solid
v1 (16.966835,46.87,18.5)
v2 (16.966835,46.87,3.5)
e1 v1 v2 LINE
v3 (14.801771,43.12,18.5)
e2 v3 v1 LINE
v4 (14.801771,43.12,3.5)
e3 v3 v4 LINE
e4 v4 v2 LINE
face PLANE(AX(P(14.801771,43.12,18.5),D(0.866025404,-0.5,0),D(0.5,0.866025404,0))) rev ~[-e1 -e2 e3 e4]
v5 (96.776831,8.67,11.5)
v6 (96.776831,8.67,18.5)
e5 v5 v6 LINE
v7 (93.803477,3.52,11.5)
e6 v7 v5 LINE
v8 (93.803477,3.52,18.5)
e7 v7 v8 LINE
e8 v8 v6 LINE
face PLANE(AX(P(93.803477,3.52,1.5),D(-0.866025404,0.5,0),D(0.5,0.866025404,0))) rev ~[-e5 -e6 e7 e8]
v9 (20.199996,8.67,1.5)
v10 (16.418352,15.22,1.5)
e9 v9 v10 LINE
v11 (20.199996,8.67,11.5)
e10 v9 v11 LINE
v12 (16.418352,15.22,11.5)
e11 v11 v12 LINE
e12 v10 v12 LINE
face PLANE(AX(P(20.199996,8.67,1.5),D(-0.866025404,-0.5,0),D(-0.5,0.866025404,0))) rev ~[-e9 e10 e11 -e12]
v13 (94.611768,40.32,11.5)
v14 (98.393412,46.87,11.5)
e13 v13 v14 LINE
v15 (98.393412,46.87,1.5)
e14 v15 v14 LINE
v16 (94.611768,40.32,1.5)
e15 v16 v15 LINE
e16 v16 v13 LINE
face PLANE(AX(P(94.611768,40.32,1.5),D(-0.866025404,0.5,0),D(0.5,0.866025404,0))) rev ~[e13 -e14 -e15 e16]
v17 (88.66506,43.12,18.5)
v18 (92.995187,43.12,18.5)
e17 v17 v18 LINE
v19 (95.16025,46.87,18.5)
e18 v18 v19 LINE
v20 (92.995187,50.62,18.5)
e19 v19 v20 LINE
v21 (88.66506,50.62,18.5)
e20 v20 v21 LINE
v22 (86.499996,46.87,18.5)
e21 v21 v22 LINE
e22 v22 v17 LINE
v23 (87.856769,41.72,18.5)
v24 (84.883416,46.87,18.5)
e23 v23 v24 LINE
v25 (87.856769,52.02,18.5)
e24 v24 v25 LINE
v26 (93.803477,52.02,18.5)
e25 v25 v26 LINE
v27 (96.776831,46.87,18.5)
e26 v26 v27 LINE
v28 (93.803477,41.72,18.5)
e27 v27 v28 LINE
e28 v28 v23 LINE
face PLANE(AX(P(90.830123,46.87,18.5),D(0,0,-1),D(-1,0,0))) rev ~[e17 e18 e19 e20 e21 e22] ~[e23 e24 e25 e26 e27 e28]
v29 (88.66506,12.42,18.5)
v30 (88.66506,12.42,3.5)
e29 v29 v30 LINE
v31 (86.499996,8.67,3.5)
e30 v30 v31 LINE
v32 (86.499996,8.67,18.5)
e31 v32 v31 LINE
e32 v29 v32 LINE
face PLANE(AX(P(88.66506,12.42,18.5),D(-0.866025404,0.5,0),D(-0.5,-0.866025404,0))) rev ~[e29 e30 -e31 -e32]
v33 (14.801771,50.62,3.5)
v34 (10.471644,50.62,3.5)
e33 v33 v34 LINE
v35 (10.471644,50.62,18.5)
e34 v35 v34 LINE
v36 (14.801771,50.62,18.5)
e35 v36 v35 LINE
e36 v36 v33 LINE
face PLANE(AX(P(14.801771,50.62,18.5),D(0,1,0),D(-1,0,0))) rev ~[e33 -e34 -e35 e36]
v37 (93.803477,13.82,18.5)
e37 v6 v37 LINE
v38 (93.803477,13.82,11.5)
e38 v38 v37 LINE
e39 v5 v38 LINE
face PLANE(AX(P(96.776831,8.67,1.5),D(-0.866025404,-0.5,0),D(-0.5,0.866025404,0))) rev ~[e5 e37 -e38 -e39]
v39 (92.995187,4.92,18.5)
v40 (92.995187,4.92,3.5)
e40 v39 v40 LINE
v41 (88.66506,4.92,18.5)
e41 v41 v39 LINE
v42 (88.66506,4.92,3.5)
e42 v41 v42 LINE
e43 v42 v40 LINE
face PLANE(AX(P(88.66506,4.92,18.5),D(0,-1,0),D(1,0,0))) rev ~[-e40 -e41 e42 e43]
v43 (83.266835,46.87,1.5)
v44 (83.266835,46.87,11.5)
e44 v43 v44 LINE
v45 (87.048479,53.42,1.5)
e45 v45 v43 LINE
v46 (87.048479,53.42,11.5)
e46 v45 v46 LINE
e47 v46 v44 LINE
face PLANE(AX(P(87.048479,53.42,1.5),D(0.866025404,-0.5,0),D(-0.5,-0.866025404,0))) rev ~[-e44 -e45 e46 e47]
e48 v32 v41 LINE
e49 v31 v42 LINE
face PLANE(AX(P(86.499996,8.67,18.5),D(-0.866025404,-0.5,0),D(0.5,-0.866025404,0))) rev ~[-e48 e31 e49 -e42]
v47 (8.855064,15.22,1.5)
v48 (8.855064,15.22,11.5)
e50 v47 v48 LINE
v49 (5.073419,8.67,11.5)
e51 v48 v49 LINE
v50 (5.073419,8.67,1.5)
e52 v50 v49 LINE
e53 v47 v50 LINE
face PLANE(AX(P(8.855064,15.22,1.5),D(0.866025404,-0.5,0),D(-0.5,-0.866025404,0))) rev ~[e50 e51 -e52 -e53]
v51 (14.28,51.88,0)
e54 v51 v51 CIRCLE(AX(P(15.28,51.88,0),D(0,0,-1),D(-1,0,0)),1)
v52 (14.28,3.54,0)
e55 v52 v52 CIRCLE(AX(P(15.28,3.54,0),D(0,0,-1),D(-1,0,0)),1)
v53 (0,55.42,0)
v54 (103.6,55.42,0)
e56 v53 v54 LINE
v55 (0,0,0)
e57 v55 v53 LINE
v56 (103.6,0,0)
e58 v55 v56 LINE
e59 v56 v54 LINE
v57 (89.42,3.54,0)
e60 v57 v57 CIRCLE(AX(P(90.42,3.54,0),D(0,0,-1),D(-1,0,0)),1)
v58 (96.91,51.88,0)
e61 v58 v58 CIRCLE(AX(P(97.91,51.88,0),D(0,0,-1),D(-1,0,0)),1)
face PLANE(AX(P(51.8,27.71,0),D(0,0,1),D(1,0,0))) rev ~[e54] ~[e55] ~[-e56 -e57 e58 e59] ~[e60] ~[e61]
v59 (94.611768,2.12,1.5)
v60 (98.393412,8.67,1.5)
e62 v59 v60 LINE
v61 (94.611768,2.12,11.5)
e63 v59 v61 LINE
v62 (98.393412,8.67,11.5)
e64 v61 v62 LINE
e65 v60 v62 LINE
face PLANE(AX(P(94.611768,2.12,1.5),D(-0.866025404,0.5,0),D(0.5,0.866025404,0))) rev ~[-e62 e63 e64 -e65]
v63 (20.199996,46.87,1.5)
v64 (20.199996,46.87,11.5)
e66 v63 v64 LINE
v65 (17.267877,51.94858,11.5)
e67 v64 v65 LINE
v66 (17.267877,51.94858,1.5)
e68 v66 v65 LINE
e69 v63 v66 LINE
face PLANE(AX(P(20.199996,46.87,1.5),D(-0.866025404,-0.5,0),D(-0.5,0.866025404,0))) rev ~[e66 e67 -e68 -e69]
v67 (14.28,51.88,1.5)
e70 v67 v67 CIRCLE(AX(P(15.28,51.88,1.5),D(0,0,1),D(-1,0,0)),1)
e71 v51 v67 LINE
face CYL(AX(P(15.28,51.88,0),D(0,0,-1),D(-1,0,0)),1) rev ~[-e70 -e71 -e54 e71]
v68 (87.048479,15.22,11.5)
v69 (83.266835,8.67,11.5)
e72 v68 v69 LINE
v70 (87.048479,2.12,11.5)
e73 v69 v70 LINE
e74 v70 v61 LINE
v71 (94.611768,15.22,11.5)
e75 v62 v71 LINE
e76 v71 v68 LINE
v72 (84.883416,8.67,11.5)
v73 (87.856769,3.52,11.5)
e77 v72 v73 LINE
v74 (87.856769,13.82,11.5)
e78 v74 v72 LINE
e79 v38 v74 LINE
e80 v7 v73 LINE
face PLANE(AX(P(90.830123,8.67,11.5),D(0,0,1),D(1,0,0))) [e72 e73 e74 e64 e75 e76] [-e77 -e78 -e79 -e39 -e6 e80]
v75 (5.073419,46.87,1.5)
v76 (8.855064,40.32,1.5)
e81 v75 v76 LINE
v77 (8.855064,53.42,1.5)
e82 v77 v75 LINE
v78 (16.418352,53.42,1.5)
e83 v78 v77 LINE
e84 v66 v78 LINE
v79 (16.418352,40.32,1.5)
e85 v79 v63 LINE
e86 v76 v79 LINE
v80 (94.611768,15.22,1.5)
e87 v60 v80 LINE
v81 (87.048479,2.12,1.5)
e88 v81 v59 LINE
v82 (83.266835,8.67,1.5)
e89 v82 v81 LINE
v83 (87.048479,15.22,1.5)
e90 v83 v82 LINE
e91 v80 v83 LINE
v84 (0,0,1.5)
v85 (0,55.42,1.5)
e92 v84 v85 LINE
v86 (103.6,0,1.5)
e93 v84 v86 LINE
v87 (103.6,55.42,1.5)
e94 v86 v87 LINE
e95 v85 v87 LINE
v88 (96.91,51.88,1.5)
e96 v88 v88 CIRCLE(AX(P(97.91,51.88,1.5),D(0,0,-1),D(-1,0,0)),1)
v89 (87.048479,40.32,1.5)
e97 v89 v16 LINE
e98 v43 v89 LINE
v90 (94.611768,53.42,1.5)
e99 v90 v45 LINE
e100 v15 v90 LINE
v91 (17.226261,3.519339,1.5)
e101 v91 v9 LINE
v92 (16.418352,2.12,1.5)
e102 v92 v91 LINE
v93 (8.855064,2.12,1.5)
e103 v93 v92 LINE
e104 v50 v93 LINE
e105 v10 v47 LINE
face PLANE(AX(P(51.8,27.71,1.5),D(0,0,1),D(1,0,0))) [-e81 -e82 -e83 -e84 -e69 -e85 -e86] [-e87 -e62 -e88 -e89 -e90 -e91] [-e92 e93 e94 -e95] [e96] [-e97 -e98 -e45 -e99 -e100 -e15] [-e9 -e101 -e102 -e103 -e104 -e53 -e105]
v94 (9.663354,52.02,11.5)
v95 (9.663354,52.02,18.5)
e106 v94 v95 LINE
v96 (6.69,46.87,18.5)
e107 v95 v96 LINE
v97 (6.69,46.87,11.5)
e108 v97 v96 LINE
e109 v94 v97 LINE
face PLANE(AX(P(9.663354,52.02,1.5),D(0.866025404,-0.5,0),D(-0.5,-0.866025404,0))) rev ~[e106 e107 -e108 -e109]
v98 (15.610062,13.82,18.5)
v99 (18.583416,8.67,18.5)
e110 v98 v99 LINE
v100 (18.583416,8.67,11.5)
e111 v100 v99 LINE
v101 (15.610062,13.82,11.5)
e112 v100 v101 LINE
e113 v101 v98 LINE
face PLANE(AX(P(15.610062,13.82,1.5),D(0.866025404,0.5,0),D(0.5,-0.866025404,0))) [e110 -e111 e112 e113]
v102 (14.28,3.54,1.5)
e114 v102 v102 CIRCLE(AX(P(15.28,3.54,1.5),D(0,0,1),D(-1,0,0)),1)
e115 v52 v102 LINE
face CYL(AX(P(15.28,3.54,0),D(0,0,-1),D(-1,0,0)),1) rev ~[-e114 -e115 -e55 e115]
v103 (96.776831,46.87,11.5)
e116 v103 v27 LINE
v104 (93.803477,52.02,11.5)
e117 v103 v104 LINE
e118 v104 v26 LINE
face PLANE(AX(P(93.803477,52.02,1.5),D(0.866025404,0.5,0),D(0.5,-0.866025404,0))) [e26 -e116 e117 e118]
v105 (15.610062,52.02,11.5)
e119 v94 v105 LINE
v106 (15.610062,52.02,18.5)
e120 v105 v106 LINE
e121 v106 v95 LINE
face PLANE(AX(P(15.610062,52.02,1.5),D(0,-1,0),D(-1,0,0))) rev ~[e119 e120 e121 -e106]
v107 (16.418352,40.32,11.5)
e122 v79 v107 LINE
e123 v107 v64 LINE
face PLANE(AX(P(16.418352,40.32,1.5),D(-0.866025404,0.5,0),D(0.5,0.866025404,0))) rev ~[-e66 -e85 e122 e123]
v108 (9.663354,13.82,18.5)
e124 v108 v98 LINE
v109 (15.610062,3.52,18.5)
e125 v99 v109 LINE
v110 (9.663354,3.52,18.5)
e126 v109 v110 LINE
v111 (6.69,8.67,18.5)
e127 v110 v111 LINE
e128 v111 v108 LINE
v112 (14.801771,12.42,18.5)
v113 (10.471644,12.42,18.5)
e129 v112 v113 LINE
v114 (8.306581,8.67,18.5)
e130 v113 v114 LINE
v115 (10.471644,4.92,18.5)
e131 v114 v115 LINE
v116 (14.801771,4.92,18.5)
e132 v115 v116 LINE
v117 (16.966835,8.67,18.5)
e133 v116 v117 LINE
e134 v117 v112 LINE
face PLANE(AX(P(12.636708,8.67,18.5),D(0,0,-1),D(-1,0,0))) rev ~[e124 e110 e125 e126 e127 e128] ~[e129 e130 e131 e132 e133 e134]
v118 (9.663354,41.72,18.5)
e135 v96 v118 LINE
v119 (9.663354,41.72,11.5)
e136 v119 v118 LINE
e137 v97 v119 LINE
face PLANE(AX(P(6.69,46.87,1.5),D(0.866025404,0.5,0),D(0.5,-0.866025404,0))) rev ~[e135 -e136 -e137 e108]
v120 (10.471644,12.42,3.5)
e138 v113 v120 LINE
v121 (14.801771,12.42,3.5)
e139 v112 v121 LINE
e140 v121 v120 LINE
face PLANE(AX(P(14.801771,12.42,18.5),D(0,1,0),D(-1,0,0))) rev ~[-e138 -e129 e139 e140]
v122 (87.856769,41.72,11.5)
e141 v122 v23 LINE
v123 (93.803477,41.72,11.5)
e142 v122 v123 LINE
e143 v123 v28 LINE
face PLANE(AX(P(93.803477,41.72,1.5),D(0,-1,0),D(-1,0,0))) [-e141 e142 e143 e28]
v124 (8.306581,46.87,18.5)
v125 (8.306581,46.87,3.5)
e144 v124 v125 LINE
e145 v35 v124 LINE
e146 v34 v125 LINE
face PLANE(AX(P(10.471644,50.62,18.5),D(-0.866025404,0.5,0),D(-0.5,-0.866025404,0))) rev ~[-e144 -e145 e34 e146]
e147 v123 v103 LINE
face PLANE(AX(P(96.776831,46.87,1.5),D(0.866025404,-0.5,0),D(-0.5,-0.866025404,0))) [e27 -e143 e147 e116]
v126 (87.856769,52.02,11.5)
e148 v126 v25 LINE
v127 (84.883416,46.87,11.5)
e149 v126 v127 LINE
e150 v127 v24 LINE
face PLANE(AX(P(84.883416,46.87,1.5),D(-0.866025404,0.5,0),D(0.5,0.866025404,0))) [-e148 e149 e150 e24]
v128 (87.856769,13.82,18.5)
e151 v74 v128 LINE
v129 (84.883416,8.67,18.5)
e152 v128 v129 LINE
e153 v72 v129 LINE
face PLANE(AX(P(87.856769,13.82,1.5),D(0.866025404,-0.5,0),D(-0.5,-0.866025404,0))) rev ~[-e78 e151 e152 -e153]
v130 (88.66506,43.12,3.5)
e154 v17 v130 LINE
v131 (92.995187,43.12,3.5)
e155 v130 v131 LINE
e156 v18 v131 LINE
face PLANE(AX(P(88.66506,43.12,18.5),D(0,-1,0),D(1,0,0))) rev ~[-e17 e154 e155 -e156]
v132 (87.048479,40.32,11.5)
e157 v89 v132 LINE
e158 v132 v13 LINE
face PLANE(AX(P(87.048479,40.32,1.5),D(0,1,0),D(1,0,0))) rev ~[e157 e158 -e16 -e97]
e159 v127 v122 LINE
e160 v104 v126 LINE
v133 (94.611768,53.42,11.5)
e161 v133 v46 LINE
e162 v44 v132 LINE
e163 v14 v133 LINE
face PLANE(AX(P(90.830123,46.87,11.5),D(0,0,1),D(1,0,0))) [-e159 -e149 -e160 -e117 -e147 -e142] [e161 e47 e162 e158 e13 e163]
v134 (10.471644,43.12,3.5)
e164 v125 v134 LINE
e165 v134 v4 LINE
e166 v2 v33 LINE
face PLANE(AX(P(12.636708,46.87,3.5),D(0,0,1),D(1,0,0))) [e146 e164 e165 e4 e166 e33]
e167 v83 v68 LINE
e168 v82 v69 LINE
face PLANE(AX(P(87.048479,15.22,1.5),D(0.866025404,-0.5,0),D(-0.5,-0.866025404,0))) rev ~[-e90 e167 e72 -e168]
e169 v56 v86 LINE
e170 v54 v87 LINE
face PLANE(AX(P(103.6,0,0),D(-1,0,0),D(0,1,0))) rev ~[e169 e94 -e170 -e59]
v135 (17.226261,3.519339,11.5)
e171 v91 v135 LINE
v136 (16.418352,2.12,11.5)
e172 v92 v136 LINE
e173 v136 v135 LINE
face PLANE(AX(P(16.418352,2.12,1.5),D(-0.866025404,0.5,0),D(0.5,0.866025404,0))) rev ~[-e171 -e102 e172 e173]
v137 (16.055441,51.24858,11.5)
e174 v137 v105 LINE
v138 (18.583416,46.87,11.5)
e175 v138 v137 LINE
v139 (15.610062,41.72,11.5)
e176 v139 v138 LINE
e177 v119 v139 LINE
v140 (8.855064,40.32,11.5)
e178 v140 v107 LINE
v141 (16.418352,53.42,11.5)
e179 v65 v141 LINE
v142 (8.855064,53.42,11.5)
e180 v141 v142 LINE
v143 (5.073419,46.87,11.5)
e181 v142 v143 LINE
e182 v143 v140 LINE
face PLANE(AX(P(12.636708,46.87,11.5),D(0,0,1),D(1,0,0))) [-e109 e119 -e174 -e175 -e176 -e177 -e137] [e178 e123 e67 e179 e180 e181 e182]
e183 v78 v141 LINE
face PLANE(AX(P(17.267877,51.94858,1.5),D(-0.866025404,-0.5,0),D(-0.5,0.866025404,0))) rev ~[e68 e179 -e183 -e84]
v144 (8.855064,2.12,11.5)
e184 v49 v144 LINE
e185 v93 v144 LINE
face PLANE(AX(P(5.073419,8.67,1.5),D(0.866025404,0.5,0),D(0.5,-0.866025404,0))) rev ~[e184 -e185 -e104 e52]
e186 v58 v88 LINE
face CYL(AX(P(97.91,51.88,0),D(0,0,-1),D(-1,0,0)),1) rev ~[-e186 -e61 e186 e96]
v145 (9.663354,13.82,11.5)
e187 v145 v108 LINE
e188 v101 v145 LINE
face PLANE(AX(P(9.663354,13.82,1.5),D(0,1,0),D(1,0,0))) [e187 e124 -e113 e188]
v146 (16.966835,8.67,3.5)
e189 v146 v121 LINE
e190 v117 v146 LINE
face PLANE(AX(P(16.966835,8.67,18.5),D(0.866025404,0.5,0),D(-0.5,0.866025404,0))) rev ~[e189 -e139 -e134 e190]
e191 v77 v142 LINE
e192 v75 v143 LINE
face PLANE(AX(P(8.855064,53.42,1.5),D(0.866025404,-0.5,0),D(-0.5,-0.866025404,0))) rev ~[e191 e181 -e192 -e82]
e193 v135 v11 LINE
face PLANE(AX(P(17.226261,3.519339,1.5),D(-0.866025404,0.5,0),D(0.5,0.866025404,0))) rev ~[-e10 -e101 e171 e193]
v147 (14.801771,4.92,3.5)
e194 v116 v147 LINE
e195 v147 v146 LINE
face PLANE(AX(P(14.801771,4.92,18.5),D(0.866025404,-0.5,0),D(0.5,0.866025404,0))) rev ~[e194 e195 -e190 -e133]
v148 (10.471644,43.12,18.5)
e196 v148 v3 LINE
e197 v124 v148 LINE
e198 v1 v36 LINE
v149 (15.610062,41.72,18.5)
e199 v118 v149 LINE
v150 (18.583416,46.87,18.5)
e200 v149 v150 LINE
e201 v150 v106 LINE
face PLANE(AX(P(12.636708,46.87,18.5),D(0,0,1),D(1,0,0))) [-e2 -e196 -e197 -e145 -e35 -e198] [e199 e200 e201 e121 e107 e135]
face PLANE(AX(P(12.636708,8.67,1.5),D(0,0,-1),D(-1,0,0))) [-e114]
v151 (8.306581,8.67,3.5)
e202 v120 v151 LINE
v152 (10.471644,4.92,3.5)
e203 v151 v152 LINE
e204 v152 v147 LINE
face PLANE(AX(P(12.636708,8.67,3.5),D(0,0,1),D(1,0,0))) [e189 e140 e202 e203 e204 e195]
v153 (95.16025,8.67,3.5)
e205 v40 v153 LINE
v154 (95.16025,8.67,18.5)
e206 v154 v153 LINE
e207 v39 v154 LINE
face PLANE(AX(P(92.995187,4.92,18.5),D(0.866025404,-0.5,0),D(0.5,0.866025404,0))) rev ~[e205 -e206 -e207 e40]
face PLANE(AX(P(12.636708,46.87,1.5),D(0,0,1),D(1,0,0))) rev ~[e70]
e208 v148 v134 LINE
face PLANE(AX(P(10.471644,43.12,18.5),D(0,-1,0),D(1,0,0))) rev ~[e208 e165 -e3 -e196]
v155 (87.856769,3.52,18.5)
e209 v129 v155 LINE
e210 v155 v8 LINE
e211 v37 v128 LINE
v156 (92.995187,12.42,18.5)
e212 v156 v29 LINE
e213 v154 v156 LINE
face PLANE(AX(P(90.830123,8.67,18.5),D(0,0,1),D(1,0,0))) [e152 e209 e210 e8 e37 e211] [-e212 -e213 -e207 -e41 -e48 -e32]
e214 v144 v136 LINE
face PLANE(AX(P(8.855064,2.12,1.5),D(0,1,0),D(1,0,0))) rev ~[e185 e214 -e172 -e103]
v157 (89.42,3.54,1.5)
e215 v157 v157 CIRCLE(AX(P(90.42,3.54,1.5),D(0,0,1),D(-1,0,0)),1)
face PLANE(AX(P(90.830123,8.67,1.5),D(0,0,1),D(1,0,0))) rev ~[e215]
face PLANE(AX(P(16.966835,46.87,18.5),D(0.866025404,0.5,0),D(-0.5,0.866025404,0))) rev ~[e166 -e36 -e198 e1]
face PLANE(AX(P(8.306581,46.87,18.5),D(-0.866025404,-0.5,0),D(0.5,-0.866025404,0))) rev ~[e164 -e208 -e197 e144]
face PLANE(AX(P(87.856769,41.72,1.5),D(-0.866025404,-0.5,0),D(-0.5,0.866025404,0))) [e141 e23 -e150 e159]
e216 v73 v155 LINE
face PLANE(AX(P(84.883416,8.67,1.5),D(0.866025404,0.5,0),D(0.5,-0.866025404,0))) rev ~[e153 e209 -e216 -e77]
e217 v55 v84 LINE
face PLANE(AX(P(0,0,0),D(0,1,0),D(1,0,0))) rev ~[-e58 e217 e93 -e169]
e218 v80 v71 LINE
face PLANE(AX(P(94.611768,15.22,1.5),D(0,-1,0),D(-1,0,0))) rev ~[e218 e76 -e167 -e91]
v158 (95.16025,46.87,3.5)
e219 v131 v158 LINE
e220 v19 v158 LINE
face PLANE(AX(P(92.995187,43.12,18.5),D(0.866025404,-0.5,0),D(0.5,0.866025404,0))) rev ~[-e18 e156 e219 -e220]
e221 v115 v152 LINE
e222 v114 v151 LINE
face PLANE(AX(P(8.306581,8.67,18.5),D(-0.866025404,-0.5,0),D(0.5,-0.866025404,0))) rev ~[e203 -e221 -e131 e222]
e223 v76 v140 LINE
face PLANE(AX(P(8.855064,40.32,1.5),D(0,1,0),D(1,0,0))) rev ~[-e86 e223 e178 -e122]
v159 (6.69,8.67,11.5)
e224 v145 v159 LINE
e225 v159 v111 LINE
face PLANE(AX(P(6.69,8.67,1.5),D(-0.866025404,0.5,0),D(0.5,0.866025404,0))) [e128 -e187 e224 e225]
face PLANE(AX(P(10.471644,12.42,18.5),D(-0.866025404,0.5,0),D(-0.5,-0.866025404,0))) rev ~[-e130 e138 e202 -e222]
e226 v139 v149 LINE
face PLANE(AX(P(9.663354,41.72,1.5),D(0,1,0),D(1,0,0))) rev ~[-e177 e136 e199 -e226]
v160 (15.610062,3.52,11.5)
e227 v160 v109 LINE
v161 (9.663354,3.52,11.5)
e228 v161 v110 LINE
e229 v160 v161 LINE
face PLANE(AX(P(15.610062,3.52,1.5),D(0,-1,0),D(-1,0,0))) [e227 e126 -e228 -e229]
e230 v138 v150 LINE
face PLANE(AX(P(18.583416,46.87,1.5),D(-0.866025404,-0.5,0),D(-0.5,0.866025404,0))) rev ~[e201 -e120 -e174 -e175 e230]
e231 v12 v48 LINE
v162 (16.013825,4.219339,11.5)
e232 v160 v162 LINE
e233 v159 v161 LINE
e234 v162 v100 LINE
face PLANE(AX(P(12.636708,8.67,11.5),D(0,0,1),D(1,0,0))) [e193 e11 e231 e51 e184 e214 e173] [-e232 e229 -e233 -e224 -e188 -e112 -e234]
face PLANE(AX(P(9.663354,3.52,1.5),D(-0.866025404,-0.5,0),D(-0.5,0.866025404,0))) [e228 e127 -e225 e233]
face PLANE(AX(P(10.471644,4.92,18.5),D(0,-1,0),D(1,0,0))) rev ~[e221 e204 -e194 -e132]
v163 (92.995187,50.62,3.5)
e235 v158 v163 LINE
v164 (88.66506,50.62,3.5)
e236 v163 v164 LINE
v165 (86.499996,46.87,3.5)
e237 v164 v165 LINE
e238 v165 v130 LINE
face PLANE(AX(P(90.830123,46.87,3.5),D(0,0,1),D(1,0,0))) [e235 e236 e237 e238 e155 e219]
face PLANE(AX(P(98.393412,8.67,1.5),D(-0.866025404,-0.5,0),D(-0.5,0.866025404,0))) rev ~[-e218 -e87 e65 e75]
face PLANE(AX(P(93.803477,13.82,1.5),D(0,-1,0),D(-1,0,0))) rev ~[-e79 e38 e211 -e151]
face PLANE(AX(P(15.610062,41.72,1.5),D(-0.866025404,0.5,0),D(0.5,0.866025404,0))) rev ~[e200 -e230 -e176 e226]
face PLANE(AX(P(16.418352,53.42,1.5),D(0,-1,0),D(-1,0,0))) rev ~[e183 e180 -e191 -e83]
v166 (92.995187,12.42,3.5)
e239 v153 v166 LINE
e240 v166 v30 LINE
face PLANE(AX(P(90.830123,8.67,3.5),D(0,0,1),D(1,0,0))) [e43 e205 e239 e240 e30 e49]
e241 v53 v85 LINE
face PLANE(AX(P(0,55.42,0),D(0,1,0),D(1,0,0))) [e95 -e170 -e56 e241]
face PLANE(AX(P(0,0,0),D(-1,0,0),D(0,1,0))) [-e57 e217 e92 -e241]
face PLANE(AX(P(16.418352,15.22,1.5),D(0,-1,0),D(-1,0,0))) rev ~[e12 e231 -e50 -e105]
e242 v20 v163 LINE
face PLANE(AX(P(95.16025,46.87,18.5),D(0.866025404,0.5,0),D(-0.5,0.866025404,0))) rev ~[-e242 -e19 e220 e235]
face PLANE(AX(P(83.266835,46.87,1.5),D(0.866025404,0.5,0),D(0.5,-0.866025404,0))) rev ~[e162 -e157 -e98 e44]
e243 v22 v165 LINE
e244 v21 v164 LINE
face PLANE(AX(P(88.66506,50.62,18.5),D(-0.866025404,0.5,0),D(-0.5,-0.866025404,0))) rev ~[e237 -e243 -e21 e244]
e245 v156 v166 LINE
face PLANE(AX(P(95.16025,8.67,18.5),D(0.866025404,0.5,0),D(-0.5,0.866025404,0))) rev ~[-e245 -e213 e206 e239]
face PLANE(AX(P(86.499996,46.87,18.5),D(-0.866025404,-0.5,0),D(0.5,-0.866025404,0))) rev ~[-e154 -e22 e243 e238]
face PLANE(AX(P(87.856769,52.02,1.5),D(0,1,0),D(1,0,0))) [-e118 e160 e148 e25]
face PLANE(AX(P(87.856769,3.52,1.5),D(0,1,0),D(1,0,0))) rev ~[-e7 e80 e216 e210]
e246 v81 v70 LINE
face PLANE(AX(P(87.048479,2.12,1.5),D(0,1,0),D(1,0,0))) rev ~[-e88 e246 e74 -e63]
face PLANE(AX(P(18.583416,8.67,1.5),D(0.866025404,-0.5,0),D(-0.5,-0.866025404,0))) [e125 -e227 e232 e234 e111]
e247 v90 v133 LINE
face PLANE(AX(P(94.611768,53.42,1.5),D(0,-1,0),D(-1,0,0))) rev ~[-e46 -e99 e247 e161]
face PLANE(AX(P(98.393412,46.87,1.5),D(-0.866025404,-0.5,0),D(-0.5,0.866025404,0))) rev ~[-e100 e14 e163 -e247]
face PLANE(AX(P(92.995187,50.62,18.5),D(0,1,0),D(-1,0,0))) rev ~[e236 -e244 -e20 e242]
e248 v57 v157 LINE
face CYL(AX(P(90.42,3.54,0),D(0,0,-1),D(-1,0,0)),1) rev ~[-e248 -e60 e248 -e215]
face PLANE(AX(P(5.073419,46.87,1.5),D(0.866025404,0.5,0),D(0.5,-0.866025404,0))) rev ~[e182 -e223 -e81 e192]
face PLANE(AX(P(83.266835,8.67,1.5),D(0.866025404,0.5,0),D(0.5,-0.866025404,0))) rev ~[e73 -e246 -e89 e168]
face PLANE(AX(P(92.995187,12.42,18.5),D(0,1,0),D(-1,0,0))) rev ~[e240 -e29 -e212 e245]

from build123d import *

# Parameters (mm, degrees)
SKETCH1_W           = 103.6
SKETCH1_H           = 55.42
BOSS_EXTRUDE1_DEPTH = 1.5
SKETCH2_R           = 1
CUT_EXTRUDE1_DEPTH  = 1.5
BOSS_EXTRUDE2_DEPTH = 17
BOSS_EXTRUDE4_DEPTH = 10
CUT_EXTRUDE2_DEPTH  = 15


with BuildPart() as part:
    # Sketch1 → Boss-Extrude1 (new body)
    with BuildSketch(Plane.XY):
        with Locations((51.8, 27.71)):
            Rectangle(SKETCH1_W, SKETCH1_H)
    extrude(amount=BOSS_EXTRUDE1_DEPTH)

    # Sketch2 → Cut-Extrude1 (cut)
    with BuildSketch(Plane(origin=(0, 0, 0), x_dir=(-1, 0, 0), z_dir=(0, 0, -1))):
        with Locations((-90.42, 3.54)):
            Circle(SKETCH2_R)
        with Locations((-15.28, 3.54)):
            Circle(SKETCH2_R)
        with Locations((-97.91, 51.88)):
            Circle(SKETCH2_R)
        with Locations((-15.28, 51.88)):
            Circle(SKETCH2_R)
    extrude(amount=-CUT_EXTRUDE1_DEPTH, mode=Mode.SUBTRACT)

    # Sketch3 → Boss-Extrude2 (add)
    with BuildSketch(Plane.XY.offset(1.5)):
        Polygon((9.663353886, 41.72), (15.610061659, 41.72), (18.583415545, 46.87), (15.610061659, 52.02), (9.663353886, 52.02), (6.69, 46.87), align=None)
        Polygon((6.69, 8.67), (9.663353886, 13.82), (15.610061659, 13.82), (18.583415545, 8.67), (15.610061659, 3.52), (9.663353886, 3.52), align=None)
        Polygon((96.776831091, 46.87), (93.803477204, 41.72), (87.856769432, 41.72), (84.883415545, 46.87), (87.856769432, 52.02), (93.803477204, 52.02), align=None)
        Polygon((93.803477204, 13.82), (87.856769432, 13.82), (84.883415545, 8.67), (87.856769432, 3.52), (93.803477204, 3.52), (96.776831091, 8.67), align=None)
    extrude(amount=BOSS_EXTRUDE2_DEPTH)

    # Sketch4 → Boss-Extrude4 (add)
    with BuildSketch(Plane.XY.offset(1.5)):
        Polygon((20.199996299, 46.87), (17.267876695, 51.948580128), (16.418352036, 53.42), (14.289848496, 53.42), (8.855063509, 53.42), (5.073419246, 46.87), (8.855063509, 40.32), (16.418352036, 40.32), align=None)
        Polygon((18.583415545, 46.87), (16.05544113, 51.248580128), (15.610061659, 52.02), (14.289848496, 52.02), (9.663353886, 52.02), (6.69, 46.87), (9.663353886, 41.72), (15.610061659, 41.72), align=None, mode=Mode.SUBTRACT)
        Polygon((8.855063509, 2.12), (14.28020002, 2.12), (16.418352036, 2.12), (17.226260541, 3.519338579), (20.199996299, 8.67), (16.418352036, 15.22), (8.855063509, 15.22), (5.073419246, 8.67), align=None)
        Polygon((9.663353886, 3.52), (14.28020002, 3.52), (15.610061659, 3.52), (16.013824976, 4.219338579), (18.583415545, 8.67), (15.610061659, 13.82), (9.663353886, 13.82), (6.69, 8.67), align=None, mode=Mode.SUBTRACT)
        Polygon((83.266834792, 8.67), (87.048479055, 2.12), (89.42020002, 2.12), (91.41979998, 2.12), (94.611767581, 2.12), (98.393411844, 8.67), (94.611767581, 15.22), (87.048479055, 15.22), align=None)
        Polygon((84.883415545, 8.67), (87.856769432, 3.52), (89.42020002, 3.52), (91.41979998, 3.52), (93.803477204, 3.52), (96.776831091, 8.67), (93.803477204, 13.82), (87.856769432, 13.82), align=None, mode=Mode.SUBTRACT)
        Polygon((98.393411844, 46.87), (94.611767581, 53.42), (87.048479055, 53.42), (83.266834792, 46.87), (87.048479055, 40.32), (94.611767581, 40.32), align=None)
        Polygon((96.776831091, 46.87), (93.803477204, 52.02), (87.856769432, 52.02), (84.883415545, 46.87), (87.856769432, 41.72), (93.803477204, 41.72), align=None, mode=Mode.SUBTRACT)
    extrude(amount=BOSS_EXTRUDE4_DEPTH)

    # Sketch5 → Cut-Extrude2 (cut)
    with BuildSketch(Plane.XY.offset(18.5)):
        Polygon((14.801771282, 50.62), (10.471644263, 50.62), (8.306580754, 46.87), (10.471644263, 43.12), (14.801771282, 43.12), (16.966834792, 46.87), align=None)
        Polygon((88.665059808, 43.12), (92.995186827, 43.12), (95.160250337, 46.87), (92.995186827, 50.62), (88.665059808, 50.62), (86.499996299, 46.87), align=None)
        Polygon((88.665059808, 4.92), (92.995186827, 4.92), (95.160250337, 8.67), (92.995186827, 12.42), (88.665059808, 12.42), (86.499996299, 8.67), align=None)
        Polygon((14.801771282, 12.42), (10.471644263, 12.42), (8.306580754, 8.67), (10.471644263, 4.92), (14.801771282, 4.92), (16.966834792, 8.67), align=None)
    extrude(amount=-CUT_EXTRUDE2_DEPTH, mode=Mode.SUBTRACT)


solid = part.part
